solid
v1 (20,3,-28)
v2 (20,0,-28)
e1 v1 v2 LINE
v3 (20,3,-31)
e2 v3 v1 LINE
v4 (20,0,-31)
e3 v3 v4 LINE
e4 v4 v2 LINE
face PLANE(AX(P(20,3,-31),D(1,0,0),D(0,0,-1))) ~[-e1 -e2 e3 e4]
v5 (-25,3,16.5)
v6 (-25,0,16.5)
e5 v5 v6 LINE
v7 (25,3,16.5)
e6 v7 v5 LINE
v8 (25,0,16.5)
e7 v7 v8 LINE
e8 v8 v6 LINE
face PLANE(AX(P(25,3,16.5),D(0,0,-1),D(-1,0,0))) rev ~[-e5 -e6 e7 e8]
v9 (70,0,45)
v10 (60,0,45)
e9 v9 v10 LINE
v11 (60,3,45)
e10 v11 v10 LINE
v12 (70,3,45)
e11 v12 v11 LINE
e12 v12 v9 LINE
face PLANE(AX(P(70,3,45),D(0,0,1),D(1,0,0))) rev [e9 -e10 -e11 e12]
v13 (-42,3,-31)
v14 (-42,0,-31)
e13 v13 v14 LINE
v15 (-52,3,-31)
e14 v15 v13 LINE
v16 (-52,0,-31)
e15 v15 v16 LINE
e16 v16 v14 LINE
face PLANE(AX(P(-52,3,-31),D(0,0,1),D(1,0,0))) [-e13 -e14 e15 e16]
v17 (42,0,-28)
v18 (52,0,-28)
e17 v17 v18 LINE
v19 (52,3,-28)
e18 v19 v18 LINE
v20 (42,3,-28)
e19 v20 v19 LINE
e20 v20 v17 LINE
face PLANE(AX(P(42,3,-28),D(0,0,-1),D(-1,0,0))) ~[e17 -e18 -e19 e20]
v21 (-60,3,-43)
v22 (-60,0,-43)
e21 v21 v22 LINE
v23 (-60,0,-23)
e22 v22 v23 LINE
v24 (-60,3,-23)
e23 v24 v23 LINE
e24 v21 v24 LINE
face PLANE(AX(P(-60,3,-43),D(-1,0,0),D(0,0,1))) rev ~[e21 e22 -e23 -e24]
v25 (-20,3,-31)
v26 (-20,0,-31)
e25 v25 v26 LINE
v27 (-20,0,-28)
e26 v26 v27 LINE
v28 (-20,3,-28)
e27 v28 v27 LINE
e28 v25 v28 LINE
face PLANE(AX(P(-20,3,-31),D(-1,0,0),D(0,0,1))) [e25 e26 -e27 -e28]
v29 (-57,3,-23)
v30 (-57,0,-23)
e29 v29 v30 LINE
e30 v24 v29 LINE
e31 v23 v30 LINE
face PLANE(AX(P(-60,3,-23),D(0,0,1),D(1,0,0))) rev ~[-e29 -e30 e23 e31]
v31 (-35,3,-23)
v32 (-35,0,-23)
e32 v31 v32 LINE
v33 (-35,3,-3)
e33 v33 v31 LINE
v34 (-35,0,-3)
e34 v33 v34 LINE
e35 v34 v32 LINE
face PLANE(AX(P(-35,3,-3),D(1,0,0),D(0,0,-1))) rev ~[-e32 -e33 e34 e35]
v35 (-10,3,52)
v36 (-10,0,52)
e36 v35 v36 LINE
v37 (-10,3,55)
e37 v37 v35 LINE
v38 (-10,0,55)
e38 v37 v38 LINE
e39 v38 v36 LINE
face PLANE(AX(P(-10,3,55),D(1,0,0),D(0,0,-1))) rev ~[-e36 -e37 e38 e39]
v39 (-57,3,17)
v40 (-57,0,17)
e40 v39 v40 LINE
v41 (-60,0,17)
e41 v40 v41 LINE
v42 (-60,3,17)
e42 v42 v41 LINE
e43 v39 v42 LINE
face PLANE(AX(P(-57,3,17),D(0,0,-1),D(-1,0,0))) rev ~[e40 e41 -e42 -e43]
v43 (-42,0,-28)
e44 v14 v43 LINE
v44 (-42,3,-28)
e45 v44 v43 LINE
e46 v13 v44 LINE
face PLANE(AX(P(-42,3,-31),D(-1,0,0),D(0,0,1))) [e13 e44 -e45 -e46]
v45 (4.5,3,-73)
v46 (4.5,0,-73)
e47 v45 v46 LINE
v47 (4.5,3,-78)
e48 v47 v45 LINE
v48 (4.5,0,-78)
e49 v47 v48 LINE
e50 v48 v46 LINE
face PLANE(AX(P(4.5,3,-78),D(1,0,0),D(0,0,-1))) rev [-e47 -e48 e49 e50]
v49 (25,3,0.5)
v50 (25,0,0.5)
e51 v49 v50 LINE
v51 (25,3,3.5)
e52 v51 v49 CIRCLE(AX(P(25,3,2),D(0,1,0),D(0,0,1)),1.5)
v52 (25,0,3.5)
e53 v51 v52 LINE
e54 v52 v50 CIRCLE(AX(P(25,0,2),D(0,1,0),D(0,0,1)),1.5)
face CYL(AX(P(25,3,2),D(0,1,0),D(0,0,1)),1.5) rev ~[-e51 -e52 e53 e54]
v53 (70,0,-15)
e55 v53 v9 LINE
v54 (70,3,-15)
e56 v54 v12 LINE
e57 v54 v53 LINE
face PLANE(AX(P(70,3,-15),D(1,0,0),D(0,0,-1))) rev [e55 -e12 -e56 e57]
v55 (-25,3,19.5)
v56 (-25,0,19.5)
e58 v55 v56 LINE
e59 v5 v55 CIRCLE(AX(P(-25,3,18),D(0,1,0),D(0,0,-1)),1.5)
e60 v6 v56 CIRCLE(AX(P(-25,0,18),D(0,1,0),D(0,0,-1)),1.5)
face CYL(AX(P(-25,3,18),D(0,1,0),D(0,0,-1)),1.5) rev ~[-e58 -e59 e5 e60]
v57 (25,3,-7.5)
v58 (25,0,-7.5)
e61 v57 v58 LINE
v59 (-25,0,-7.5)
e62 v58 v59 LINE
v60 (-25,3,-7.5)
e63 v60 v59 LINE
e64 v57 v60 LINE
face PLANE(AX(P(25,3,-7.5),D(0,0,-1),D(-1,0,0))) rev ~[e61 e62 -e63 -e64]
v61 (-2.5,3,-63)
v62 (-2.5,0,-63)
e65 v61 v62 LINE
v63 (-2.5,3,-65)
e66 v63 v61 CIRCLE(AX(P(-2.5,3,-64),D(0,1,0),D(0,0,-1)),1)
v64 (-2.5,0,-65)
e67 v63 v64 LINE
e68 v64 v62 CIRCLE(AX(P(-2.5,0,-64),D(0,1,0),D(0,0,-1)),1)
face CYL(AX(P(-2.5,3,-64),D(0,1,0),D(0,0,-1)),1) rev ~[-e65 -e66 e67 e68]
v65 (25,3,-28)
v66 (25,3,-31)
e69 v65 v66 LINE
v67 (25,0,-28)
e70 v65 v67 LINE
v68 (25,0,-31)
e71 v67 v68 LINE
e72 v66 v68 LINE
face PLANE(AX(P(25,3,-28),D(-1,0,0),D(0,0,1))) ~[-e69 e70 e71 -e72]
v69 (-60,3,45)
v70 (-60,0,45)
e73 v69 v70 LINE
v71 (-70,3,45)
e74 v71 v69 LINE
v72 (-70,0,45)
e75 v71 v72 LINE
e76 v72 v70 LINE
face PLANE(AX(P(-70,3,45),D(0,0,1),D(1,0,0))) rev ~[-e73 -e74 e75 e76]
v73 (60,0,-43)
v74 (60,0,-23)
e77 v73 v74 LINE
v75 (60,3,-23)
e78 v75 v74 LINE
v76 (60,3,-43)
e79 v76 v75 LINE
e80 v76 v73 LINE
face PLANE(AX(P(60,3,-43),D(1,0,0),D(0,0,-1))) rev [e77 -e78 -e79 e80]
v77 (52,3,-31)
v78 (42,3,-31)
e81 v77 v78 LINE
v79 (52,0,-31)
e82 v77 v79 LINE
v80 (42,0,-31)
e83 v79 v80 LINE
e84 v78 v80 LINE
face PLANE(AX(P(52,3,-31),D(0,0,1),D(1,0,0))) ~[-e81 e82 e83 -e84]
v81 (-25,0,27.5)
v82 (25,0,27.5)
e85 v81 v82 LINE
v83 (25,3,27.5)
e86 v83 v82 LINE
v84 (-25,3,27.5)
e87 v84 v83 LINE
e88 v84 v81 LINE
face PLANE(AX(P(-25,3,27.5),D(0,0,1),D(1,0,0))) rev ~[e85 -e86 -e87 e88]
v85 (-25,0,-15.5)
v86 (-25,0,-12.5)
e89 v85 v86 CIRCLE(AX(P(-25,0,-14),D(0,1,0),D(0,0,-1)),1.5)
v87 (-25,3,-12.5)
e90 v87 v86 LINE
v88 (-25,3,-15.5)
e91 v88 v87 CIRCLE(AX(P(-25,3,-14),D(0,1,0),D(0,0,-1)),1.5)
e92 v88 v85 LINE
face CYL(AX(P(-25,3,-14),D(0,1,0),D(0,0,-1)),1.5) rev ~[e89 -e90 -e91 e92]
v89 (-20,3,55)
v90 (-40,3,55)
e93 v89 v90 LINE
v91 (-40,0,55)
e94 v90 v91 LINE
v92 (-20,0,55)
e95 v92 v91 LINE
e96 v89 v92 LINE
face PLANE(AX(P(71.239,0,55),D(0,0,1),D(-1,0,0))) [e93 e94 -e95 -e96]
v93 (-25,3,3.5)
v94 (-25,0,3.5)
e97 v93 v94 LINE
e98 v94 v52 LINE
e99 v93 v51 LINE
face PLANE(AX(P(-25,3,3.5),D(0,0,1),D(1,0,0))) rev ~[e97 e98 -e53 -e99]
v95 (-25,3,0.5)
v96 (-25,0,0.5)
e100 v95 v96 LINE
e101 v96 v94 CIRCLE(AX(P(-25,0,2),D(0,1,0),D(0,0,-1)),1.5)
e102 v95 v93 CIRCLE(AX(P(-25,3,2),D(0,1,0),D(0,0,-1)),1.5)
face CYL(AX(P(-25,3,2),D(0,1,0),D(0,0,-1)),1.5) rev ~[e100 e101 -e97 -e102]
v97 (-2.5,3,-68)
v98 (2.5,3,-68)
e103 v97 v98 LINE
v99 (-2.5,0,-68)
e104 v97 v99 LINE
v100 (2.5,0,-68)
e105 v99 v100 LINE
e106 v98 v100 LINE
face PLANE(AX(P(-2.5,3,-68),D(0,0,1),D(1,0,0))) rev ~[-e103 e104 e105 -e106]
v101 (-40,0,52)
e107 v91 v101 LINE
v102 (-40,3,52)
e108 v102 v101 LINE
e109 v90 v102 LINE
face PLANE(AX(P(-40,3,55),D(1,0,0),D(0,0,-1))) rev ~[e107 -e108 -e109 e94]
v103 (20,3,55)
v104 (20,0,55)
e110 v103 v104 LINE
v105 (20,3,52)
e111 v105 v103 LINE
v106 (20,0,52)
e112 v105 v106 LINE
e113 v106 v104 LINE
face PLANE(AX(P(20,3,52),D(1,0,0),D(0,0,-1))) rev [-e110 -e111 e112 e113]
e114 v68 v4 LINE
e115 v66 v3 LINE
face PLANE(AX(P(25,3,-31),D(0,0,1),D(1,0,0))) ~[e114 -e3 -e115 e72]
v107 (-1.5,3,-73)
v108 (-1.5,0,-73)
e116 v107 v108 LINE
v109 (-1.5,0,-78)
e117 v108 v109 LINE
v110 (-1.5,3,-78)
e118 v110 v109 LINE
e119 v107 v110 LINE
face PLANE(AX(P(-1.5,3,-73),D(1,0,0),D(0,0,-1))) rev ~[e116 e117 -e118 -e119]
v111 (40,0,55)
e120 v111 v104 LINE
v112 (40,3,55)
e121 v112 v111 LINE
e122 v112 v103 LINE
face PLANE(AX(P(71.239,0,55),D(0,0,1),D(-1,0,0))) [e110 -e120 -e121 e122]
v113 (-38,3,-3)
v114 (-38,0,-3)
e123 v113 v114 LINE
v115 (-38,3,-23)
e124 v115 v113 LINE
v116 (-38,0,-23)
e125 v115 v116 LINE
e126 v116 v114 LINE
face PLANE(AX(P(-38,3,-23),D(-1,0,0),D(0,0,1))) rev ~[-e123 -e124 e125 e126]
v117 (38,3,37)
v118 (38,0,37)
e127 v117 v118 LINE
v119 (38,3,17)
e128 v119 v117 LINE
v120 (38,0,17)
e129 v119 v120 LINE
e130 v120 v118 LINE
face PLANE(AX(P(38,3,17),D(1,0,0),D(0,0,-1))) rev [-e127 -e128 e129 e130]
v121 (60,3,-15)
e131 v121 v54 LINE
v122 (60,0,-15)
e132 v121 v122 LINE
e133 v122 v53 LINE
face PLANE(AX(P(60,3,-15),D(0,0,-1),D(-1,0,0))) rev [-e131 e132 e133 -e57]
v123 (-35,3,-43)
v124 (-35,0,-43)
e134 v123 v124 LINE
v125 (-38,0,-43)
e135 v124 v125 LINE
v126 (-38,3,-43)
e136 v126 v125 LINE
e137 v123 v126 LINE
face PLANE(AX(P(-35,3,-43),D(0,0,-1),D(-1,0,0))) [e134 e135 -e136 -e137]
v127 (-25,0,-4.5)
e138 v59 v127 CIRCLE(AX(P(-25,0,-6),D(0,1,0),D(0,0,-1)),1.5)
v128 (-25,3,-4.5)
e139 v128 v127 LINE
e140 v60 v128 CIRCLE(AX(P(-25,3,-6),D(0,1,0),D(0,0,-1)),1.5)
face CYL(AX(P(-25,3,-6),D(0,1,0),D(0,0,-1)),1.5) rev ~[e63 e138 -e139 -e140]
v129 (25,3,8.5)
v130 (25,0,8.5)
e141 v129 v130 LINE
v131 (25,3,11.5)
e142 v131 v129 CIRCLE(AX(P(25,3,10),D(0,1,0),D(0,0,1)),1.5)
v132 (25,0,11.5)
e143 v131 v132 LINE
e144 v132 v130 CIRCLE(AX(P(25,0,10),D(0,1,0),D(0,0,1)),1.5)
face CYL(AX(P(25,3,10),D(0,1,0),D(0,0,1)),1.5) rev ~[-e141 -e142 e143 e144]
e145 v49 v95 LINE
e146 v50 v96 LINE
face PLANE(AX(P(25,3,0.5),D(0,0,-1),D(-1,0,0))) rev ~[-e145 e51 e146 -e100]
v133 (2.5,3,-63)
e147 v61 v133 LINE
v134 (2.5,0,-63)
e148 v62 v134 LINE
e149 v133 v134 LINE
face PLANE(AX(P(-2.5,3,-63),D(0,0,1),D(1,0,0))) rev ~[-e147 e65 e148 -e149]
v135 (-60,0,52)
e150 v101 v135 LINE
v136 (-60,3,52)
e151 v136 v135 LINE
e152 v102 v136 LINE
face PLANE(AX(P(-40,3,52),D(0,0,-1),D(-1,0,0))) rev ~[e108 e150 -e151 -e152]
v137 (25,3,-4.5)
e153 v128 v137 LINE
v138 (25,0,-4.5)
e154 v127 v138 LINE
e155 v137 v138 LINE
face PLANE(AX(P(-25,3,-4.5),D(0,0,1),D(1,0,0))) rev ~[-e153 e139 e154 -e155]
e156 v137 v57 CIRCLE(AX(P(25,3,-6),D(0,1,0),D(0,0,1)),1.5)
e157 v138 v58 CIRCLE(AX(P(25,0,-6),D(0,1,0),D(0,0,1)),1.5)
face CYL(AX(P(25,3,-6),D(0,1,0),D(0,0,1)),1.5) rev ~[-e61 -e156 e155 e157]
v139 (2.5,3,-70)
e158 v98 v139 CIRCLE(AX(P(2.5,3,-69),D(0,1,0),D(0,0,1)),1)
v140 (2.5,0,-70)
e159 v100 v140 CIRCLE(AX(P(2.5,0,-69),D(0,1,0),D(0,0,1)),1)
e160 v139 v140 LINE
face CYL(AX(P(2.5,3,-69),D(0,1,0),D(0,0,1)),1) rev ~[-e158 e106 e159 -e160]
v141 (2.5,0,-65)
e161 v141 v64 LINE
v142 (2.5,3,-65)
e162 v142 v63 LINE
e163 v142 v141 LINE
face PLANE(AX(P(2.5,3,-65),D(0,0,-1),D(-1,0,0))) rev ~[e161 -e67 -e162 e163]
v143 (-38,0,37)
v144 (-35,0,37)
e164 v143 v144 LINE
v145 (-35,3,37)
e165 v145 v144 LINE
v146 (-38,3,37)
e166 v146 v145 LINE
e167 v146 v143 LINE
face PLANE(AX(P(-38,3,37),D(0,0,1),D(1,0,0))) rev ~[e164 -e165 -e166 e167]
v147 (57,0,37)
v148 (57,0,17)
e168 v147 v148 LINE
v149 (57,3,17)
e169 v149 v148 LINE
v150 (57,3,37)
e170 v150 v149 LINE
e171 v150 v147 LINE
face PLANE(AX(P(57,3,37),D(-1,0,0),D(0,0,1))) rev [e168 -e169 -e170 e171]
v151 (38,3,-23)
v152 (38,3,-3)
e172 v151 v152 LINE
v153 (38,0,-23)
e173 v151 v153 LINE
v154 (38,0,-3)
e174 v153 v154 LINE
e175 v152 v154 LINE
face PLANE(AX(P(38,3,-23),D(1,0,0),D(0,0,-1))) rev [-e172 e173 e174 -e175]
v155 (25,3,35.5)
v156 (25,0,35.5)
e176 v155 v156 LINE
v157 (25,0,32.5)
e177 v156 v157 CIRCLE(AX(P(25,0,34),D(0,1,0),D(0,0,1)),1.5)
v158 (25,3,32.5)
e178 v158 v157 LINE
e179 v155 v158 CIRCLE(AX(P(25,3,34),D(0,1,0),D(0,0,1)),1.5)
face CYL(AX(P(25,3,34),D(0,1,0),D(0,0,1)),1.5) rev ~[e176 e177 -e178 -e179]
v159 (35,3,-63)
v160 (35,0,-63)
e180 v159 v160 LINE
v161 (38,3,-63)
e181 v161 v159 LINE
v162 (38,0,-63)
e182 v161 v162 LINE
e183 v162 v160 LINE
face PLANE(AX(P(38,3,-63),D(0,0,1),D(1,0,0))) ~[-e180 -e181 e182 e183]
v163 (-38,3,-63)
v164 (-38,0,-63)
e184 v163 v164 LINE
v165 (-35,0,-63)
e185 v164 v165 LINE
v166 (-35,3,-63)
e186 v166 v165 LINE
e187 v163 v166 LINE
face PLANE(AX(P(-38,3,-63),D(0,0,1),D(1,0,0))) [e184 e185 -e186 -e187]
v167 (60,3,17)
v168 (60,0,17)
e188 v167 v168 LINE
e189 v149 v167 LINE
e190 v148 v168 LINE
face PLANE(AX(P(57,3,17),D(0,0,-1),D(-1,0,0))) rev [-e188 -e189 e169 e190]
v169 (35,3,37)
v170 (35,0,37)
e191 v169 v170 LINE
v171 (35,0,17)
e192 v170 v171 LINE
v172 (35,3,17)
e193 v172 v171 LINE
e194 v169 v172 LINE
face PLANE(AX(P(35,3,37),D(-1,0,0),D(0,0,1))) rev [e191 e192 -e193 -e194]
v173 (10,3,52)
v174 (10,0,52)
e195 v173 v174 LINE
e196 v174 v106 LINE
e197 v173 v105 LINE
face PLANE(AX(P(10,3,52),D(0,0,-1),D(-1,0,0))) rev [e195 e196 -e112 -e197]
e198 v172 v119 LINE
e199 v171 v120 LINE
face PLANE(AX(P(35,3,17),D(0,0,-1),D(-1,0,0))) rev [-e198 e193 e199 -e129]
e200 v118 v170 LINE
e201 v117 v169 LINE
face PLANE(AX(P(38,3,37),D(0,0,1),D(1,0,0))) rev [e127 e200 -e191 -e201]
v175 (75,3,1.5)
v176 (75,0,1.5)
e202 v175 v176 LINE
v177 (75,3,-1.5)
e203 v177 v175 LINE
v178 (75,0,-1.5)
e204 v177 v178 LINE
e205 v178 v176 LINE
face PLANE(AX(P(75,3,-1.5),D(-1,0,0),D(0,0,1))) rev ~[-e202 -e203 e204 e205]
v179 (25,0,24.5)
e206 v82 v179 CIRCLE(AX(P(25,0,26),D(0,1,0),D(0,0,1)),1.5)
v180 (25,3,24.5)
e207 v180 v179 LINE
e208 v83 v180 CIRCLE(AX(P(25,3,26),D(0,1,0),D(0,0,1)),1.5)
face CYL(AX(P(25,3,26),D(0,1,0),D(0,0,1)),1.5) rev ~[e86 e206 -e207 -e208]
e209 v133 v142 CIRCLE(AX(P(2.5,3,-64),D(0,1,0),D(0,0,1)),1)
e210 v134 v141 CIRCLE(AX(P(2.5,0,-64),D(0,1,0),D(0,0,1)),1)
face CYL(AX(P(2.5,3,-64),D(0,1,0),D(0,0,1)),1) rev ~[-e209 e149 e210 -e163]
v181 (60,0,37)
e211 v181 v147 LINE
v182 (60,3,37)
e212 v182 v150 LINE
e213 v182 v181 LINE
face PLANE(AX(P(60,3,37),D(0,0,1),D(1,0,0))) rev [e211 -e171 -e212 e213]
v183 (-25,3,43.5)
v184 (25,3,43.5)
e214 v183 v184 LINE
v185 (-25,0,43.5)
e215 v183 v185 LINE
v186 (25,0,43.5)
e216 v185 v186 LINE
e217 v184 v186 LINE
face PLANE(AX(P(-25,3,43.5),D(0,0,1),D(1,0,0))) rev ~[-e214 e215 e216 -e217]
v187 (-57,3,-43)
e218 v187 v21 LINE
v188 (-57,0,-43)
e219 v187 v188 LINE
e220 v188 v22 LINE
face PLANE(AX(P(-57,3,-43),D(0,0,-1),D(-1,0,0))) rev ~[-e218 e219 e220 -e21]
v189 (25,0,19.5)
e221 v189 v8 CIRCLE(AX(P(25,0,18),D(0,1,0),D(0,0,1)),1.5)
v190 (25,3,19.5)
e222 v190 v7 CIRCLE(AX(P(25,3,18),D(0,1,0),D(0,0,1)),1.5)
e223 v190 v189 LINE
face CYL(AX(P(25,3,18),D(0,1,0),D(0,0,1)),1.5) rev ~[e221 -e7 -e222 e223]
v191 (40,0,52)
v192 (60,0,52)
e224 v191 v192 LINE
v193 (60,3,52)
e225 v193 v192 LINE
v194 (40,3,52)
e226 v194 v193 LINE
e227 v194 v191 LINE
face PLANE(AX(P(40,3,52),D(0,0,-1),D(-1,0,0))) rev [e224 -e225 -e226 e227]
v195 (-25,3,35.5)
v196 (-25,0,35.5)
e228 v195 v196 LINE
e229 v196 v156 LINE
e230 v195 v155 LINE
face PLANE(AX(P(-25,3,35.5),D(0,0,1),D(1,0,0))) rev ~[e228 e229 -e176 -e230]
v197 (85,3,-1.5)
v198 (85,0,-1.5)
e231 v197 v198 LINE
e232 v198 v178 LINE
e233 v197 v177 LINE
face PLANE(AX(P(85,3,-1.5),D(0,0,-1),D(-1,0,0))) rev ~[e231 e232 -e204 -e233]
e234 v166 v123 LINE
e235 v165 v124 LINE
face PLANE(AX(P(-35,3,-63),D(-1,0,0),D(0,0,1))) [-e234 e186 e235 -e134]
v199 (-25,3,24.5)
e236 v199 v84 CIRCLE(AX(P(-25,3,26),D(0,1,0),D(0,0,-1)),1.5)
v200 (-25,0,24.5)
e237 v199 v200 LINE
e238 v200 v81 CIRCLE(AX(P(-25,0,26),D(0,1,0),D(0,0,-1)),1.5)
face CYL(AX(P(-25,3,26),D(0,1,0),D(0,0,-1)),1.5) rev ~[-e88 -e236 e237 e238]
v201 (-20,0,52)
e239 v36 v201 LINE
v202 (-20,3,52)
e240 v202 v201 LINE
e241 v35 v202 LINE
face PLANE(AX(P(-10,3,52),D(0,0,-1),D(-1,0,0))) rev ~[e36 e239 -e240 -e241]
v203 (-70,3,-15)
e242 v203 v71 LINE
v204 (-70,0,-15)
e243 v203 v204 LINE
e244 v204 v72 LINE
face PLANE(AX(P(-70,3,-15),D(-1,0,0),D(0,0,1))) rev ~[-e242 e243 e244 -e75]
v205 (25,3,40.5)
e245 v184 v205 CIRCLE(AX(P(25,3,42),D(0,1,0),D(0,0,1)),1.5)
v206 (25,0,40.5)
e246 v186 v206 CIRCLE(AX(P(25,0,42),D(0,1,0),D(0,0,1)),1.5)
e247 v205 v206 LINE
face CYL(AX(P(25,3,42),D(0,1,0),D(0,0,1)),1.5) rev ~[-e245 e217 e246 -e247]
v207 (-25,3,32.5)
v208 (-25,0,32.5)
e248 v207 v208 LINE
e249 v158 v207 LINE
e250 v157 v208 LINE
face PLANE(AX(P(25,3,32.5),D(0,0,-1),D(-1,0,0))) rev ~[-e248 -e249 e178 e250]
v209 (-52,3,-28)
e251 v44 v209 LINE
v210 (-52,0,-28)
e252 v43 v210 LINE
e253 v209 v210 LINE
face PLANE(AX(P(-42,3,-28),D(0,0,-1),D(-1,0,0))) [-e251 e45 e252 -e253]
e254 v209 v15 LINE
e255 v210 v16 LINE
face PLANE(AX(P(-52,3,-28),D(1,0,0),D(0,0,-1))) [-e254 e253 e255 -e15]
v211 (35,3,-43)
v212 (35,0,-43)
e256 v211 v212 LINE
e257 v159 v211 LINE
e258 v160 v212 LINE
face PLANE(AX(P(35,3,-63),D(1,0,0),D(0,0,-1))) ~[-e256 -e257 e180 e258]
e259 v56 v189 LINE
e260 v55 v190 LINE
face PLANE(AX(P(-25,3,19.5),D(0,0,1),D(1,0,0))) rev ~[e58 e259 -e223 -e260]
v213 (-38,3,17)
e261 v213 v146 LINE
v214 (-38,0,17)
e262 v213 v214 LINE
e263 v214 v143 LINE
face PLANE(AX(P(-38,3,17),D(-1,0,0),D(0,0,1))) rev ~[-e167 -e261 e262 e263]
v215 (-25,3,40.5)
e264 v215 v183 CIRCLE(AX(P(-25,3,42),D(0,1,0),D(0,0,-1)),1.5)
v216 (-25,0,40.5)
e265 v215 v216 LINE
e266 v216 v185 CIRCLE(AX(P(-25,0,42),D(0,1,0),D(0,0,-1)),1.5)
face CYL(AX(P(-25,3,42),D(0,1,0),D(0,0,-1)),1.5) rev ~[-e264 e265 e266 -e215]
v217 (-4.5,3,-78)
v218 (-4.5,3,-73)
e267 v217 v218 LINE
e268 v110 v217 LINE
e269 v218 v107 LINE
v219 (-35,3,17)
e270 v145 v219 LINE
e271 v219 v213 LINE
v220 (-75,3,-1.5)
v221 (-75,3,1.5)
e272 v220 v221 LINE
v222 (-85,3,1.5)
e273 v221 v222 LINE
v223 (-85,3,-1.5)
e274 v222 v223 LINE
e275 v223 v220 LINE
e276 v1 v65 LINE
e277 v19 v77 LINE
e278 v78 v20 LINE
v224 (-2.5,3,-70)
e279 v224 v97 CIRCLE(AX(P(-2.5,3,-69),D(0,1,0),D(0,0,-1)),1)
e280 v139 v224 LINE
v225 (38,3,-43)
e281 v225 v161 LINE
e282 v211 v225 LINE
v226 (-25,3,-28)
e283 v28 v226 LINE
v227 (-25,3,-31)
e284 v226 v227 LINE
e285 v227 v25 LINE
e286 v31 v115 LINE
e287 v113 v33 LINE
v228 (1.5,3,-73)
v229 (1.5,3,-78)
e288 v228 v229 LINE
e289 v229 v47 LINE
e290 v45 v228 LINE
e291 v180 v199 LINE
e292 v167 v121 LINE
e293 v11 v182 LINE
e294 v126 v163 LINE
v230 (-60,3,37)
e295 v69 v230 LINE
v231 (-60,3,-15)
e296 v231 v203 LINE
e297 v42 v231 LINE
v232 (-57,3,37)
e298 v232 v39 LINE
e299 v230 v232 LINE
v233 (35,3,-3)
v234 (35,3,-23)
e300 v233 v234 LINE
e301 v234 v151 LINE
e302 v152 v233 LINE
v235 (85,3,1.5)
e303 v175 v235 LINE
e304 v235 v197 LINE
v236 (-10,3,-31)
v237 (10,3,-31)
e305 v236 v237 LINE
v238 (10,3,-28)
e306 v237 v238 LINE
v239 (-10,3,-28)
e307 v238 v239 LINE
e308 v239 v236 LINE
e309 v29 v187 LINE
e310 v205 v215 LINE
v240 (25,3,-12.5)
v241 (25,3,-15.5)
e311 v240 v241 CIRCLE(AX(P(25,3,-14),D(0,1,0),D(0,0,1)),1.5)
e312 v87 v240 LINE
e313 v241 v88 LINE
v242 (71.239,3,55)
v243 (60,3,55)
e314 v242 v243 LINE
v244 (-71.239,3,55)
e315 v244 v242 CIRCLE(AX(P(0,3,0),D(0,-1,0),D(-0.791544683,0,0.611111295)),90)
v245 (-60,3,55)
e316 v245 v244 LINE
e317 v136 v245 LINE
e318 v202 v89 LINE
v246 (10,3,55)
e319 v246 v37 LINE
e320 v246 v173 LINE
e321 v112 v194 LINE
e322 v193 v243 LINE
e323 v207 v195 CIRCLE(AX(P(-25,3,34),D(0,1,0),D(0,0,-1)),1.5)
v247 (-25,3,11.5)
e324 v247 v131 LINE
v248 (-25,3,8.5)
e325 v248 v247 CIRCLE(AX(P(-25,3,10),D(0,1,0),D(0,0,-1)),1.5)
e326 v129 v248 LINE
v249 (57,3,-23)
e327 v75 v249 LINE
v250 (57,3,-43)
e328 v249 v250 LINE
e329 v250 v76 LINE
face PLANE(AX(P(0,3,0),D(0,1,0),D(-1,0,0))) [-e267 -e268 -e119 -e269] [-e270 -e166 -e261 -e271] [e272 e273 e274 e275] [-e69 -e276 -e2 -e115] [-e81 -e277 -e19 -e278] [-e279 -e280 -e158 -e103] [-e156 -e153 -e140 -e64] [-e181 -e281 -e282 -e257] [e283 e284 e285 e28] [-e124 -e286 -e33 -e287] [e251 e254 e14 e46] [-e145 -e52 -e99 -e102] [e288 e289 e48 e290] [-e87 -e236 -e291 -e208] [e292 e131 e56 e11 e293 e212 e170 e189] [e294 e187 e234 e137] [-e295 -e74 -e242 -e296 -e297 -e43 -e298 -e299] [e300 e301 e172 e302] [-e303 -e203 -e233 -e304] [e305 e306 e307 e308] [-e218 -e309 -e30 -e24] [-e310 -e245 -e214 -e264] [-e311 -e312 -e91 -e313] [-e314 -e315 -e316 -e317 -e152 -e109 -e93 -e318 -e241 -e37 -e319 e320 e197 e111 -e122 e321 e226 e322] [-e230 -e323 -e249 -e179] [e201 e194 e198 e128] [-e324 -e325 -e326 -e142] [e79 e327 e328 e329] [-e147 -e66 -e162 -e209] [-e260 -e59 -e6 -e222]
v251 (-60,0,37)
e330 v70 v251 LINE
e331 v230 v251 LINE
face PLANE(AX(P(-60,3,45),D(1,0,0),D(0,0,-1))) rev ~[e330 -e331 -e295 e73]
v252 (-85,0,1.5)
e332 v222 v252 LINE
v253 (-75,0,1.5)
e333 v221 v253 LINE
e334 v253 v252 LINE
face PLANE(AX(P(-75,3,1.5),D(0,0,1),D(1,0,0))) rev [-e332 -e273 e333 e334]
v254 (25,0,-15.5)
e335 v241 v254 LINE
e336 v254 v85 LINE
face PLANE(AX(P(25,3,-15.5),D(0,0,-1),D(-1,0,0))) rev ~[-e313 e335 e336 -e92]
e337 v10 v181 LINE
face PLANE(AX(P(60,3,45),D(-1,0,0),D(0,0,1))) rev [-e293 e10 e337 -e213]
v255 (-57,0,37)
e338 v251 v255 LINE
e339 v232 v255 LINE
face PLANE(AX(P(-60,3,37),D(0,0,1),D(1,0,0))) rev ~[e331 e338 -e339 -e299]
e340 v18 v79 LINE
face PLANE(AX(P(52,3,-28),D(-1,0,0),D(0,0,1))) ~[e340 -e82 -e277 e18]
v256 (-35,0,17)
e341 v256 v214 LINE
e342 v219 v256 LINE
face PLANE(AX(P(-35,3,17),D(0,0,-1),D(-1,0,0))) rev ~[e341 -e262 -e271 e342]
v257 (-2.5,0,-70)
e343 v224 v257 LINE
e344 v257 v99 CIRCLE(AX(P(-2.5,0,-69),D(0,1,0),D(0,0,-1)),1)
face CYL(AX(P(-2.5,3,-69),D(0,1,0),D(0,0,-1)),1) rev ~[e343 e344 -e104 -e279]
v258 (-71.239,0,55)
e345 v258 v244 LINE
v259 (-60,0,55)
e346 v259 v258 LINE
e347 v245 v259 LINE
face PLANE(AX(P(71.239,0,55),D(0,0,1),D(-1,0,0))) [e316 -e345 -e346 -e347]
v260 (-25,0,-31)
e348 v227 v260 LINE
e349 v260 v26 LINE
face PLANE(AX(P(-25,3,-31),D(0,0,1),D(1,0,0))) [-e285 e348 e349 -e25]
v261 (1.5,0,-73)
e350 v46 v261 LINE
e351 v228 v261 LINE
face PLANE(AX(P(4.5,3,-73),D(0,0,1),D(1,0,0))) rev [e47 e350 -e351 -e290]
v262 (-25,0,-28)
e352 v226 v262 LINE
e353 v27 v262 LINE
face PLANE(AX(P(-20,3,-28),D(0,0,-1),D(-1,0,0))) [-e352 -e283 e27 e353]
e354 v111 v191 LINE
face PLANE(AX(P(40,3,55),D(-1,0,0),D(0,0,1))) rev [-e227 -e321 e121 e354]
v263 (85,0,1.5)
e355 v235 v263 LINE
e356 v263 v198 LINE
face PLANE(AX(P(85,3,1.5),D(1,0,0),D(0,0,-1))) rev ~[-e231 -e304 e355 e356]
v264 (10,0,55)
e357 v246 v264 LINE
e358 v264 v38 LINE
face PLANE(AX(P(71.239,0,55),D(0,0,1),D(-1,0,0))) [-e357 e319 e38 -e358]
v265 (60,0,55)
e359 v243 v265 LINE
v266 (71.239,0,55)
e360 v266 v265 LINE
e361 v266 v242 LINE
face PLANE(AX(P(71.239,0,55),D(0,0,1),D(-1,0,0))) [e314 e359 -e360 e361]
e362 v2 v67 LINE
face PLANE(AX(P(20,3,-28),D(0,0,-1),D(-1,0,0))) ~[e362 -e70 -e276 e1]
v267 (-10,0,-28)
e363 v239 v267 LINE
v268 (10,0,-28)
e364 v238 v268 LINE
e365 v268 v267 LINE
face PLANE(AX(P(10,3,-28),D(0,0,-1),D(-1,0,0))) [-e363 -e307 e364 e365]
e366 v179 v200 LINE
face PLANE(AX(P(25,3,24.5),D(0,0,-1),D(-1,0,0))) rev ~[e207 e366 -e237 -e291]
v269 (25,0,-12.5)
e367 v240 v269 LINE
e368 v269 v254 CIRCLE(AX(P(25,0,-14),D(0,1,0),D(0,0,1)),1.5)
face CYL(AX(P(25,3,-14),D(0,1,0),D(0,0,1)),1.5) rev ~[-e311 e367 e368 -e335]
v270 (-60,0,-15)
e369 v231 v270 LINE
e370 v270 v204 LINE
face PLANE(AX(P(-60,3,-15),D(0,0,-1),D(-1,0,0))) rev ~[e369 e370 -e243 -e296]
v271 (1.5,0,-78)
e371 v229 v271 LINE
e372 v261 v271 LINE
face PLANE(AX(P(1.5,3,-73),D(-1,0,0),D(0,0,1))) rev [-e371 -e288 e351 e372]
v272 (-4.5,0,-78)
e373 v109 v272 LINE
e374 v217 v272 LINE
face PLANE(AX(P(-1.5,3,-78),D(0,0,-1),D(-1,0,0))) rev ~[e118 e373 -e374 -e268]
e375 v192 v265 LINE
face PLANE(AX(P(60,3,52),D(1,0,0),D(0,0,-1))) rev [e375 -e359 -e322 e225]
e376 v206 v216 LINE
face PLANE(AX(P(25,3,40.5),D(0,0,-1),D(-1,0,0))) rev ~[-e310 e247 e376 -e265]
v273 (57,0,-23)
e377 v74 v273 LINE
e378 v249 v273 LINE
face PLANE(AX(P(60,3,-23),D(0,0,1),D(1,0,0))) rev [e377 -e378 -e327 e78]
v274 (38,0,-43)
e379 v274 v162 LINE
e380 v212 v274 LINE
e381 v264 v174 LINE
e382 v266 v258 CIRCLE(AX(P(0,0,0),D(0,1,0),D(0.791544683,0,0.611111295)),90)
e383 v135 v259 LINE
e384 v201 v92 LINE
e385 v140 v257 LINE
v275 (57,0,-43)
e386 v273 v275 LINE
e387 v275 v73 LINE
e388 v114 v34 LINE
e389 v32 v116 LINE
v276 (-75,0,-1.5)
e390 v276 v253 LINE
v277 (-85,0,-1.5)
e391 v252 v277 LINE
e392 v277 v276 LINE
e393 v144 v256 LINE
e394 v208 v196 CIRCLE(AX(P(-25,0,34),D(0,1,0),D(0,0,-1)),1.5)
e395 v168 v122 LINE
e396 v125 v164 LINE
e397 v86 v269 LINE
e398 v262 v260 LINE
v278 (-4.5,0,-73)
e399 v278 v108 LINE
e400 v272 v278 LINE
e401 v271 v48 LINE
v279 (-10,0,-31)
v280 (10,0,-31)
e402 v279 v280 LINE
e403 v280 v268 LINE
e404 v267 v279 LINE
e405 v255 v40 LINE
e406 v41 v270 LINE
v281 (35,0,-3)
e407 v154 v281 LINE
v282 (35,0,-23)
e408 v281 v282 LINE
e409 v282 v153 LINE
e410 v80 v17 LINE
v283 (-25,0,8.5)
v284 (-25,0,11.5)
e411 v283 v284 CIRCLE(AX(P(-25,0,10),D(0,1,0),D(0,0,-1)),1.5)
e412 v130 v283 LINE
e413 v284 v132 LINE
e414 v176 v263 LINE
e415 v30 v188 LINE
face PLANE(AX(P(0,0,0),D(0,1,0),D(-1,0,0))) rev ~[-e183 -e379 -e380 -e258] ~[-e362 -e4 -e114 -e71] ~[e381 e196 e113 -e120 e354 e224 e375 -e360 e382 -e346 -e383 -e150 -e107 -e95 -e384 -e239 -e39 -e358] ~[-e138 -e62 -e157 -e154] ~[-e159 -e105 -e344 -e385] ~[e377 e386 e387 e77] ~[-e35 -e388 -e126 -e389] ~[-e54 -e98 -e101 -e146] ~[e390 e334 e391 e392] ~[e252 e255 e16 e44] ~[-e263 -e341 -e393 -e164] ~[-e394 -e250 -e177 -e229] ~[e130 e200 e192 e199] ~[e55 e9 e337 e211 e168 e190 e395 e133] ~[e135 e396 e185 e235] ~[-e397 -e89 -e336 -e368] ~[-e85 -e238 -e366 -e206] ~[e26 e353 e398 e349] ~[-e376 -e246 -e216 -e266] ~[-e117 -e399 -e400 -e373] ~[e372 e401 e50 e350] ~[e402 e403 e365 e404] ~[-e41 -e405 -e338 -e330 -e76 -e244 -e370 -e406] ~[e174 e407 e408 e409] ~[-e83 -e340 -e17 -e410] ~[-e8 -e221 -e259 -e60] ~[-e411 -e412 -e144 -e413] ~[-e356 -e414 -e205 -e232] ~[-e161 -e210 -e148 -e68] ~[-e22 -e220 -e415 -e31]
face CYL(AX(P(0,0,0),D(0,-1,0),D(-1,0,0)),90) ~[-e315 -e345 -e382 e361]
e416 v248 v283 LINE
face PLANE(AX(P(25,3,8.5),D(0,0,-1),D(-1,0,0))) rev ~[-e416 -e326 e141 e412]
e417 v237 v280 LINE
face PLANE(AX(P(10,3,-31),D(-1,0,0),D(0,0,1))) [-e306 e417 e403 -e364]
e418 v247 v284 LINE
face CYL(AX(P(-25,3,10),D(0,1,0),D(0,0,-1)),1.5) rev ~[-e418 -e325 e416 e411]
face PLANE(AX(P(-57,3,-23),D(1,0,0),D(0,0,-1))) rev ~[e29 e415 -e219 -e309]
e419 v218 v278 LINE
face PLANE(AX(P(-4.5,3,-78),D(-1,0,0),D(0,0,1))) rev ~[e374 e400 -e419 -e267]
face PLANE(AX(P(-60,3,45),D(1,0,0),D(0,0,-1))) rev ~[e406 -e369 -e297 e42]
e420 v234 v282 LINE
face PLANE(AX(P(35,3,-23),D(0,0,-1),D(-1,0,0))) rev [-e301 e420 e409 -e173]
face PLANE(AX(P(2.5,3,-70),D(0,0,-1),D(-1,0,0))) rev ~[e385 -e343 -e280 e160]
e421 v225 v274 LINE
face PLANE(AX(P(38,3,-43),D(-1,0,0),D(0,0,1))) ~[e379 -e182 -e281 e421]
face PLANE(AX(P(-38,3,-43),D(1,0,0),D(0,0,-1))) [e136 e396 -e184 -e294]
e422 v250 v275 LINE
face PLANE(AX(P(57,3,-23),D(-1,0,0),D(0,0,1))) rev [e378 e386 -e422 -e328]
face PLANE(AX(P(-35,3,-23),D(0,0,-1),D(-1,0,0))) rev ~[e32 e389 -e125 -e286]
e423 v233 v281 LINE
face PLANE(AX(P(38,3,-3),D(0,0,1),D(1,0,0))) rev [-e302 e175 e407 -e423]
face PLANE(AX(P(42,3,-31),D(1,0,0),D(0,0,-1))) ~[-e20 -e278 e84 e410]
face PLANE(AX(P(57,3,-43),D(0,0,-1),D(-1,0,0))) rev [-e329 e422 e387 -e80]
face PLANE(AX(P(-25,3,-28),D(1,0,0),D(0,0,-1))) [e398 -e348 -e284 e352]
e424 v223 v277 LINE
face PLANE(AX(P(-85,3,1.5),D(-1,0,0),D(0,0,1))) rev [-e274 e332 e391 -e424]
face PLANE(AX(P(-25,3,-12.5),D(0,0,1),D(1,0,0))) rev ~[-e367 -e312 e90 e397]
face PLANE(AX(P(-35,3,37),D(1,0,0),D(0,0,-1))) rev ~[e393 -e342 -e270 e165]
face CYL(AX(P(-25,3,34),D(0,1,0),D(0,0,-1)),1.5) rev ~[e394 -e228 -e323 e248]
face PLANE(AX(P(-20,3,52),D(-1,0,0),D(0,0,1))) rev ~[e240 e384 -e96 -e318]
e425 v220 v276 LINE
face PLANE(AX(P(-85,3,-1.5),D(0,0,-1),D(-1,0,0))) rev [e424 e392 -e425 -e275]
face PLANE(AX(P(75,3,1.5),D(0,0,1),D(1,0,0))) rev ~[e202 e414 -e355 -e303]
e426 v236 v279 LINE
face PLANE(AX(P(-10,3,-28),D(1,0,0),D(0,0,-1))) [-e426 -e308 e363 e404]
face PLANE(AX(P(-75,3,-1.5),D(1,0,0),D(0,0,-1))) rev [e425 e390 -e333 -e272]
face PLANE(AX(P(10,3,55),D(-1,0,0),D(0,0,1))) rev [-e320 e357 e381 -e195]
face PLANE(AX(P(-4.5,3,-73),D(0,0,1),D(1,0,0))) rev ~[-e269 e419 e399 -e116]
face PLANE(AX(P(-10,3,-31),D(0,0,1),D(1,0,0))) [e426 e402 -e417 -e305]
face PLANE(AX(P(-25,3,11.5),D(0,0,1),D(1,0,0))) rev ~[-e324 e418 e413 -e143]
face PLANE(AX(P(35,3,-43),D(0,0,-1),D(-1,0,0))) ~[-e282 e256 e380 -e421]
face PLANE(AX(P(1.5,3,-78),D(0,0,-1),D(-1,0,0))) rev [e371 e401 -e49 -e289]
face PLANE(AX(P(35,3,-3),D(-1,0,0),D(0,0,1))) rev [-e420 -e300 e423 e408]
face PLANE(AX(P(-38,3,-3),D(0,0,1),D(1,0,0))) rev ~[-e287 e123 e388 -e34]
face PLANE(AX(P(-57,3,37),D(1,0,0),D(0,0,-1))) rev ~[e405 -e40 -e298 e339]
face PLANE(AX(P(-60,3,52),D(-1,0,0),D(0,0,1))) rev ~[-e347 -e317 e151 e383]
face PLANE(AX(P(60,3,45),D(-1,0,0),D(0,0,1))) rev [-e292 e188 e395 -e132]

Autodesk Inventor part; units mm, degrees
ref_plane "YZ Plane" through (0, 0, 0) normal (1, 0, 0) x (0, 1, 0)
ref_plane "XZ Plane" through (0, 0, 0) normal (0, 1, 0) x (-1, 0, 0)
ref_plane "XY Plane" through (0, 0, 0) normal (0, 0, 1) x (1, 0, 0)
sketch "Sketch1" plane through (0, 0, 0) normal (0, 1, 0) x (-1, 0, 0)
  circle A0 centre (0, 0) radius 90
  line L0 (-71.239, 55) -> (71.239, 55)
  dimension "d0" = 180
  dimension "d1" = 55
extrude "Extrusion1" add sketch "Sketch1" along normal blind 3 contours A0 L0 picked at (-1.0947, 6.6866)
sketch "Sketch2" plane through (0, 3, 0) normal (0, 1, 0) x (1, 0, 0)
  line L0 (-70, -45) -> (-60, -45)
  line L1 (-60, -45) -> (-60, 15)
  line L2 (-60, 15) -> (-70, 15)
  line L3 (-70, 15) -> (-70, -45)
  line L4 (-70, -45) -> (-60, 15) construction
  line L5 (-60, -45) -> (-70, 15) construction
  point P0 (0, 0)
  point P1 (-65, -15)
  dimension "d4" = 10
  dimension "d5" = 60
  dimension "d6" = 15
  dimension "d7" = 65
extrude "Extrusion2" cut sketch "Sketch2" against normal blind 3
sketch "Sketch3" plane through (0, 3, 0) normal (0, 1, 0) x (1, 0, 0)
  line L0 (-71.239, -55) -> (71.239, -55) projected
  line L1 (-60, -55) -> (-40, -55)
  line L2 (-40, -55) -> (-40, -52)
  line L3 (-40, -52) -> (-60, -52)
  line L4 (-60, -52) -> (-60, -55)
  line L5 (-20, -55) -> (-10, -55)
  line L6 (-10, -55) -> (-10, -52)
  line L7 (-10, -52) -> (-20, -52)
  line L8 (-20, -52) -> (-20, -55)
  point P0 (0, 0)
  dimension "d10" = 20
  dimension "d11" = 3
  dimension "d12" = 10
  dimension "d13" = 3
  dimension "d14" = 10
  dimension "d15" = 20
extrude "Extrusion3" cut sketch "Sketch3" against normal blind 3
sketch "Sketch4" plane through (0, 3, 0) normal (0, 1, 0) x (1, 0, 0)
  line L0 (-60, -45) -> (-60, 15) projected
  line L1 (-60, -37) -> (-57, -37)
  line L2 (-57, -37) -> (-57, -17)
  line L3 (-57, -17) -> (-60, -17)
  line L4 (-60, -17) -> (-60, -37)
  line L5 (-57, 43) -> (-60, 43)
  line L6 (-60, 43) -> (-60, 23)
  line L7 (-60, 23) -> (-57, 23)
  line L8 (-57, 23) -> (-57, 43)
  line L9 (-60, -52) -> (-40, -52) projected
  point P0 (0, 0)
  dimension "d18" = 3
  dimension "d19" = 20
  dimension "d20" = 3
  dimension "d21" = 20
  dimension "d22" = 40
  dimension "d23" = 15
extrude "Extrusion4" cut sketch "Sketch4" against normal blind 3
sketch "Sketch5" plane through (0, 3, 0) normal (0, 1, 0) x (1, 0, 0)
  line L0 (31, 67.5) -> (-31, 67.5) construction
  line L1 (-31, 67.5) -> (-31, 32.5) construction
  line L2 (-31, 32.5) -> (31, 32.5) construction
  line L3 (31, 32.5) -> (31, 67.5) construction
  line L4 (31, 67.5) -> (-31, 32.5) construction
  line L5 (-31, 67.5) -> (31, 32.5) construction
  line L6 (-57, -37) -> (-57, -17) construction
  line L7 (-57, -21) -> (-31, -21) construction
  line L8 (-31, -21) -> (-31, -9) construction
  line L9 (-31, -9) -> (-57, -9) construction
  line L10 (-57, -9) -> (-57, -21) construction
  line L11 (-60, -45) -> (-70, -45) construction
  line L12 (-70, -45) -> (-70, 15) construction
  line L13 (-70, -15) -> (-60, -15) construction
  point P0 (0, 0)
  point P1 (0, 50)
  point P2 (0, 50)
  point P3 (-57, -15)
  point P4 (-65, -15)
  dimension "d26" = 62
  dimension "d27" = 35
  dimension "d28" = 50
  dimension "d29" = 26
  dimension "d30" = 12
sketch "Sketch6" plane through (0, 3, 0) normal (0, 1, 0) x (1, 0, 0)
  line L0 (-38, 63) -> (-35, 63)
  line L1 (-35, 63) -> (-35, 43)
  line L2 (-35, 43) -> (-38, 43)
  line L3 (-38, 43) -> (-38, 63)
  line L4 (-38, 3) -> (-35, 3)
  line L5 (-35, 3) -> (-35, 23)
  line L6 (-35, 23) -> (-38, 23)
  line L7 (-38, 23) -> (-38, 3)
  line L8 (-38, -37) -> (-35, -37)
  line L9 (-35, -37) -> (-35, -17)
  line L10 (-35, -17) -> (-38, -17)
  line L11 (-38, -17) -> (-38, -37)
  line L12 (-60, -52) -> (-40, -52) projected
  point P0 (0, 0)
  dimension "d32" = 3
  dimension "d33" = 20
  dimension "d34" = 35
  dimension "d35" = 3
  dimension "d36" = 20
  dimension "d37" = 20
  dimension "d38" = 3
  dimension "d39" = 20
  dimension "d40" = 20
  dimension "d41" = 15
extrude "Extrusion5" cut sketch "Sketch6" against normal blind 3
sketch "Sketch7" plane through (0, 3, 0) normal (0, 1, 0) x (1, 0, 0)
  line L0 (-10, 31) -> (10, 31)
  line L1 (10, 31) -> (10, 28)
  line L2 (10, 28) -> (-10, 28)
  line L3 (-10, 28) -> (-10, 31)
  line L4 (-60, -52) -> (-40, -52) projected
  line L5 (-20, 28) -> (-25, 28)
  line L6 (-25, 28) -> (-25, 31)
  line L7 (-25, 31) -> (-20, 31)
  line L8 (-20, 31) -> (-20, 28)
  line L9 (-42, 28) -> (-52, 28)
  line L10 (-52, 28) -> (-52, 31)
  line L11 (-52, 31) -> (-42, 31)
  line L12 (-42, 31) -> (-42, 28)
  point P0 (0, 0)
  point P1 (0, 28)
  dimension "d44" = 20
  dimension "d45" = 3
  dimension "d46" = 80
  dimension "d47" = 5
  dimension "d48" = 3
  dimension "d49" = 10
  dimension "d58" = 10
  dimension "d59" = 3
  dimension "d60" = 17
extrude "Extrusion6" cut sketch "Sketch7" against normal blind 3
sketch "Sketch8" plane through (0, 3, 0) normal (0, 1, 0) x (1, 0, 0)
  line L0 (-4.5, 73) -> (-1.5, 73)
  line L1 (-1.5, 73) -> (-1.5, 78)
  line L2 (-1.5, 78) -> (-4.5, 78)
  line L3 (-4.5, 78) -> (-4.5, 73)
  line L4 (-10, 31) -> (10, 31) projected
  point P0 (0, 0)
  dimension "d52" = 3
  dimension "d53" = 5
  dimension "d54" = 1.5
  dimension "d55" = 42
extrude "Extrusion7" cut sketch "Sketch8" against normal blind 3
mirror "Mirror1" about plane through (0, 0, 0) normal (1, 0, 0) of "Extrusion2", "Extrusion3", "Extrusion4", "Extrusion5", "Extrusion6", "Extrusion7"
sketch "Sketch9" plane through (0, 3, 0) normal (0, 1, 0) x (1, 0, 0)
  line L0 (75, -1.5) -> (85, -1.5)
  line L1 (85, -1.5) -> (85, 1.5)
  line L2 (85, 1.5) -> (75, 1.5)
  line L3 (75, 1.5) -> (75, -1.5)
  line L4 (70, -45) -> (70, 15) projected
  point P0 (0, 0)
  point P1 (75, 0)
  dimension "d61" = 10
  dimension "d62" = 3
  dimension "d63" = 5
extrude "Extrusion8" cut sketch "Sketch9" against normal blind 3
mirror "Mirror2" about plane through (0, 0, 0) normal (1, 0, 0) of "Extrusion8"
sketch "Sketch10" plane through (0, 3, 0) normal (0, 1, 0) x (1, 0, 0)
  line L0 (2.5, 64) -> (-2.5, 64) construction
  line L1 (2.5, 65) -> (-2.5, 65)
  line L2 (-2.5, 63) -> (2.5, 63)
  arc A0 (2.5, 63) -> (2.5, 65) centre (2.5, 64) ccw
  arc A1 (-2.5, 65) -> (-2.5, 63) centre (-2.5, 64) ccw
  line L3 (2.5, 69) -> (-2.5, 69) construction
  line L4 (2.5, 70) -> (-2.5, 70)
  line L5 (-2.5, 68) -> (2.5, 68)
  arc A2 (2.5, 68) -> (2.5, 70) centre (2.5, 69) ccw
  arc A3 (-2.5, 70) -> (-2.5, 68) centre (-2.5, 69) ccw
  point P0 (0, 0)
  point P1 (0, 64)
  point P2 (0, 69)
  dimension "d66" = 2
  dimension "d67" = 2
  dimension "d68" = 3
  dimension "d69" = 63
  dimension "d70" = 5
extrude "Extrusion9" cut sketch "Sketch10" against normal blind 3
sketch "Sketch11" plane through (0, 3, 0) normal (0, 1, 0) x (1, 0, 0)
  line L0 (25, -42) -> (-25, -42) construction
  line L1 (25, -40.5) -> (-25, -40.5)
  line L2 (-25, -43.5) -> (25, -43.5)
  arc A0 (25, -43.5) -> (25, -40.5) centre (25, -42) ccw
  arc A1 (-25, -40.5) -> (-25, -43.5) centre (-25, -42) ccw
  line L3 (0, -43.5) -> (0, -40.5) construction
  line L4 (25, -34) -> (-25, -34) construction
  line L5 (25, -32.5) -> (-25, -32.5)
  line L6 (-25, -35.5) -> (25, -35.5)
  arc A2 (25, -35.5) -> (25, -32.5) centre (25, -34) ccw
  arc A3 (-25, -32.5) -> (-25, -35.5) centre (-25, -34) ccw
  line L7 (0, -35.5) -> (0, -32.5) construction
  line L8 (25, -26) -> (-25, -26) construction
  line L9 (25, -24.5) -> (-25, -24.5)
  line L10 (-25, -27.5) -> (25, -27.5)
  arc A4 (25, -27.5) -> (25, -24.5) centre (25, -26) ccw
  arc A5 (-25, -24.5) -> (-25, -27.5) centre (-25, -26) ccw
  line L11 (0, -27.5) -> (0, -24.5) construction
  line L12 (25, -18) -> (-25, -18) construction
  line L13 (25, -16.5) -> (-25, -16.5)
  line L14 (-25, -19.5) -> (25, -19.5)
  arc A6 (25, -19.5) -> (25, -16.5) centre (25, -18) ccw
  arc A7 (-25, -16.5) -> (-25, -19.5) centre (-25, -18) ccw
  line L15 (0, -19.5) -> (0, -16.5) construction
  line L16 (25, -10) -> (-25, -10) construction
  line L17 (25, -8.5) -> (-25, -8.5)
  line L18 (-25, -11.5) -> (25, -11.5)
  arc A8 (25, -11.5) -> (25, -8.5) centre (25, -10) ccw
  arc A9 (-25, -8.5) -> (-25, -11.5) centre (-25, -10) ccw
  line L19 (0, -11.5) -> (0, -8.5) construction
  line L20 (25, -2) -> (-25, -2) construction
  line L21 (25, -0.5) -> (-25, -0.5)
  line L22 (-25, -3.5) -> (25, -3.5)
  arc A10 (25, -3.5) -> (25, -0.5) centre (25, -2) ccw
  arc A11 (-25, -0.5) -> (-25, -3.5) centre (-25, -2) ccw
  line L23 (0, -3.5) -> (0, -0.5) construction
  line L24 (25, 6) -> (-25, 6) construction
  line L25 (25, 7.5) -> (-25, 7.5)
  line L26 (-25, 4.5) -> (25, 4.5)
  arc A12 (25, 4.5) -> (25, 7.5) centre (25, 6) ccw
  arc A13 (-25, 7.5) -> (-25, 4.5) centre (-25, 6) ccw
  line L27 (0, 4.5) -> (0, 7.5) construction
  line L28 (25, 14) -> (-25, 14) construction
  line L29 (25, 15.5) -> (-25, 15.5)
  line L30 (-25, 12.5) -> (25, 12.5)
  arc A14 (25, 12.5) -> (25, 15.5) centre (25, 14) ccw
  arc A15 (-25, 15.5) -> (-25, 12.5) centre (-25, 14) ccw
  line L31 (0, 12.5) -> (0, 15.5) construction
  line L32 (10, -52) -> (20, -52) construction
  point P0 (0, 0)
  point P1 (0, -42)
  point P2 (0, -34)
  point P3 (0, -26)
  point P4 (0, -18)
  point P5 (0, -10)
  point P6 (0, -2)
  point P7 (0, 6)
  point P8 (0, 14)
  point P9 (0, -42)
  dimension "d73" = 3
  dimension "d74" = 50
  dimension "d77" = 8
  dimension "d82" = 10
extrude "Extrusion10" cut sketch "Sketch11" against normal blind 3
equation "\"d40\" = d36"
properties part number "Base Plate"
